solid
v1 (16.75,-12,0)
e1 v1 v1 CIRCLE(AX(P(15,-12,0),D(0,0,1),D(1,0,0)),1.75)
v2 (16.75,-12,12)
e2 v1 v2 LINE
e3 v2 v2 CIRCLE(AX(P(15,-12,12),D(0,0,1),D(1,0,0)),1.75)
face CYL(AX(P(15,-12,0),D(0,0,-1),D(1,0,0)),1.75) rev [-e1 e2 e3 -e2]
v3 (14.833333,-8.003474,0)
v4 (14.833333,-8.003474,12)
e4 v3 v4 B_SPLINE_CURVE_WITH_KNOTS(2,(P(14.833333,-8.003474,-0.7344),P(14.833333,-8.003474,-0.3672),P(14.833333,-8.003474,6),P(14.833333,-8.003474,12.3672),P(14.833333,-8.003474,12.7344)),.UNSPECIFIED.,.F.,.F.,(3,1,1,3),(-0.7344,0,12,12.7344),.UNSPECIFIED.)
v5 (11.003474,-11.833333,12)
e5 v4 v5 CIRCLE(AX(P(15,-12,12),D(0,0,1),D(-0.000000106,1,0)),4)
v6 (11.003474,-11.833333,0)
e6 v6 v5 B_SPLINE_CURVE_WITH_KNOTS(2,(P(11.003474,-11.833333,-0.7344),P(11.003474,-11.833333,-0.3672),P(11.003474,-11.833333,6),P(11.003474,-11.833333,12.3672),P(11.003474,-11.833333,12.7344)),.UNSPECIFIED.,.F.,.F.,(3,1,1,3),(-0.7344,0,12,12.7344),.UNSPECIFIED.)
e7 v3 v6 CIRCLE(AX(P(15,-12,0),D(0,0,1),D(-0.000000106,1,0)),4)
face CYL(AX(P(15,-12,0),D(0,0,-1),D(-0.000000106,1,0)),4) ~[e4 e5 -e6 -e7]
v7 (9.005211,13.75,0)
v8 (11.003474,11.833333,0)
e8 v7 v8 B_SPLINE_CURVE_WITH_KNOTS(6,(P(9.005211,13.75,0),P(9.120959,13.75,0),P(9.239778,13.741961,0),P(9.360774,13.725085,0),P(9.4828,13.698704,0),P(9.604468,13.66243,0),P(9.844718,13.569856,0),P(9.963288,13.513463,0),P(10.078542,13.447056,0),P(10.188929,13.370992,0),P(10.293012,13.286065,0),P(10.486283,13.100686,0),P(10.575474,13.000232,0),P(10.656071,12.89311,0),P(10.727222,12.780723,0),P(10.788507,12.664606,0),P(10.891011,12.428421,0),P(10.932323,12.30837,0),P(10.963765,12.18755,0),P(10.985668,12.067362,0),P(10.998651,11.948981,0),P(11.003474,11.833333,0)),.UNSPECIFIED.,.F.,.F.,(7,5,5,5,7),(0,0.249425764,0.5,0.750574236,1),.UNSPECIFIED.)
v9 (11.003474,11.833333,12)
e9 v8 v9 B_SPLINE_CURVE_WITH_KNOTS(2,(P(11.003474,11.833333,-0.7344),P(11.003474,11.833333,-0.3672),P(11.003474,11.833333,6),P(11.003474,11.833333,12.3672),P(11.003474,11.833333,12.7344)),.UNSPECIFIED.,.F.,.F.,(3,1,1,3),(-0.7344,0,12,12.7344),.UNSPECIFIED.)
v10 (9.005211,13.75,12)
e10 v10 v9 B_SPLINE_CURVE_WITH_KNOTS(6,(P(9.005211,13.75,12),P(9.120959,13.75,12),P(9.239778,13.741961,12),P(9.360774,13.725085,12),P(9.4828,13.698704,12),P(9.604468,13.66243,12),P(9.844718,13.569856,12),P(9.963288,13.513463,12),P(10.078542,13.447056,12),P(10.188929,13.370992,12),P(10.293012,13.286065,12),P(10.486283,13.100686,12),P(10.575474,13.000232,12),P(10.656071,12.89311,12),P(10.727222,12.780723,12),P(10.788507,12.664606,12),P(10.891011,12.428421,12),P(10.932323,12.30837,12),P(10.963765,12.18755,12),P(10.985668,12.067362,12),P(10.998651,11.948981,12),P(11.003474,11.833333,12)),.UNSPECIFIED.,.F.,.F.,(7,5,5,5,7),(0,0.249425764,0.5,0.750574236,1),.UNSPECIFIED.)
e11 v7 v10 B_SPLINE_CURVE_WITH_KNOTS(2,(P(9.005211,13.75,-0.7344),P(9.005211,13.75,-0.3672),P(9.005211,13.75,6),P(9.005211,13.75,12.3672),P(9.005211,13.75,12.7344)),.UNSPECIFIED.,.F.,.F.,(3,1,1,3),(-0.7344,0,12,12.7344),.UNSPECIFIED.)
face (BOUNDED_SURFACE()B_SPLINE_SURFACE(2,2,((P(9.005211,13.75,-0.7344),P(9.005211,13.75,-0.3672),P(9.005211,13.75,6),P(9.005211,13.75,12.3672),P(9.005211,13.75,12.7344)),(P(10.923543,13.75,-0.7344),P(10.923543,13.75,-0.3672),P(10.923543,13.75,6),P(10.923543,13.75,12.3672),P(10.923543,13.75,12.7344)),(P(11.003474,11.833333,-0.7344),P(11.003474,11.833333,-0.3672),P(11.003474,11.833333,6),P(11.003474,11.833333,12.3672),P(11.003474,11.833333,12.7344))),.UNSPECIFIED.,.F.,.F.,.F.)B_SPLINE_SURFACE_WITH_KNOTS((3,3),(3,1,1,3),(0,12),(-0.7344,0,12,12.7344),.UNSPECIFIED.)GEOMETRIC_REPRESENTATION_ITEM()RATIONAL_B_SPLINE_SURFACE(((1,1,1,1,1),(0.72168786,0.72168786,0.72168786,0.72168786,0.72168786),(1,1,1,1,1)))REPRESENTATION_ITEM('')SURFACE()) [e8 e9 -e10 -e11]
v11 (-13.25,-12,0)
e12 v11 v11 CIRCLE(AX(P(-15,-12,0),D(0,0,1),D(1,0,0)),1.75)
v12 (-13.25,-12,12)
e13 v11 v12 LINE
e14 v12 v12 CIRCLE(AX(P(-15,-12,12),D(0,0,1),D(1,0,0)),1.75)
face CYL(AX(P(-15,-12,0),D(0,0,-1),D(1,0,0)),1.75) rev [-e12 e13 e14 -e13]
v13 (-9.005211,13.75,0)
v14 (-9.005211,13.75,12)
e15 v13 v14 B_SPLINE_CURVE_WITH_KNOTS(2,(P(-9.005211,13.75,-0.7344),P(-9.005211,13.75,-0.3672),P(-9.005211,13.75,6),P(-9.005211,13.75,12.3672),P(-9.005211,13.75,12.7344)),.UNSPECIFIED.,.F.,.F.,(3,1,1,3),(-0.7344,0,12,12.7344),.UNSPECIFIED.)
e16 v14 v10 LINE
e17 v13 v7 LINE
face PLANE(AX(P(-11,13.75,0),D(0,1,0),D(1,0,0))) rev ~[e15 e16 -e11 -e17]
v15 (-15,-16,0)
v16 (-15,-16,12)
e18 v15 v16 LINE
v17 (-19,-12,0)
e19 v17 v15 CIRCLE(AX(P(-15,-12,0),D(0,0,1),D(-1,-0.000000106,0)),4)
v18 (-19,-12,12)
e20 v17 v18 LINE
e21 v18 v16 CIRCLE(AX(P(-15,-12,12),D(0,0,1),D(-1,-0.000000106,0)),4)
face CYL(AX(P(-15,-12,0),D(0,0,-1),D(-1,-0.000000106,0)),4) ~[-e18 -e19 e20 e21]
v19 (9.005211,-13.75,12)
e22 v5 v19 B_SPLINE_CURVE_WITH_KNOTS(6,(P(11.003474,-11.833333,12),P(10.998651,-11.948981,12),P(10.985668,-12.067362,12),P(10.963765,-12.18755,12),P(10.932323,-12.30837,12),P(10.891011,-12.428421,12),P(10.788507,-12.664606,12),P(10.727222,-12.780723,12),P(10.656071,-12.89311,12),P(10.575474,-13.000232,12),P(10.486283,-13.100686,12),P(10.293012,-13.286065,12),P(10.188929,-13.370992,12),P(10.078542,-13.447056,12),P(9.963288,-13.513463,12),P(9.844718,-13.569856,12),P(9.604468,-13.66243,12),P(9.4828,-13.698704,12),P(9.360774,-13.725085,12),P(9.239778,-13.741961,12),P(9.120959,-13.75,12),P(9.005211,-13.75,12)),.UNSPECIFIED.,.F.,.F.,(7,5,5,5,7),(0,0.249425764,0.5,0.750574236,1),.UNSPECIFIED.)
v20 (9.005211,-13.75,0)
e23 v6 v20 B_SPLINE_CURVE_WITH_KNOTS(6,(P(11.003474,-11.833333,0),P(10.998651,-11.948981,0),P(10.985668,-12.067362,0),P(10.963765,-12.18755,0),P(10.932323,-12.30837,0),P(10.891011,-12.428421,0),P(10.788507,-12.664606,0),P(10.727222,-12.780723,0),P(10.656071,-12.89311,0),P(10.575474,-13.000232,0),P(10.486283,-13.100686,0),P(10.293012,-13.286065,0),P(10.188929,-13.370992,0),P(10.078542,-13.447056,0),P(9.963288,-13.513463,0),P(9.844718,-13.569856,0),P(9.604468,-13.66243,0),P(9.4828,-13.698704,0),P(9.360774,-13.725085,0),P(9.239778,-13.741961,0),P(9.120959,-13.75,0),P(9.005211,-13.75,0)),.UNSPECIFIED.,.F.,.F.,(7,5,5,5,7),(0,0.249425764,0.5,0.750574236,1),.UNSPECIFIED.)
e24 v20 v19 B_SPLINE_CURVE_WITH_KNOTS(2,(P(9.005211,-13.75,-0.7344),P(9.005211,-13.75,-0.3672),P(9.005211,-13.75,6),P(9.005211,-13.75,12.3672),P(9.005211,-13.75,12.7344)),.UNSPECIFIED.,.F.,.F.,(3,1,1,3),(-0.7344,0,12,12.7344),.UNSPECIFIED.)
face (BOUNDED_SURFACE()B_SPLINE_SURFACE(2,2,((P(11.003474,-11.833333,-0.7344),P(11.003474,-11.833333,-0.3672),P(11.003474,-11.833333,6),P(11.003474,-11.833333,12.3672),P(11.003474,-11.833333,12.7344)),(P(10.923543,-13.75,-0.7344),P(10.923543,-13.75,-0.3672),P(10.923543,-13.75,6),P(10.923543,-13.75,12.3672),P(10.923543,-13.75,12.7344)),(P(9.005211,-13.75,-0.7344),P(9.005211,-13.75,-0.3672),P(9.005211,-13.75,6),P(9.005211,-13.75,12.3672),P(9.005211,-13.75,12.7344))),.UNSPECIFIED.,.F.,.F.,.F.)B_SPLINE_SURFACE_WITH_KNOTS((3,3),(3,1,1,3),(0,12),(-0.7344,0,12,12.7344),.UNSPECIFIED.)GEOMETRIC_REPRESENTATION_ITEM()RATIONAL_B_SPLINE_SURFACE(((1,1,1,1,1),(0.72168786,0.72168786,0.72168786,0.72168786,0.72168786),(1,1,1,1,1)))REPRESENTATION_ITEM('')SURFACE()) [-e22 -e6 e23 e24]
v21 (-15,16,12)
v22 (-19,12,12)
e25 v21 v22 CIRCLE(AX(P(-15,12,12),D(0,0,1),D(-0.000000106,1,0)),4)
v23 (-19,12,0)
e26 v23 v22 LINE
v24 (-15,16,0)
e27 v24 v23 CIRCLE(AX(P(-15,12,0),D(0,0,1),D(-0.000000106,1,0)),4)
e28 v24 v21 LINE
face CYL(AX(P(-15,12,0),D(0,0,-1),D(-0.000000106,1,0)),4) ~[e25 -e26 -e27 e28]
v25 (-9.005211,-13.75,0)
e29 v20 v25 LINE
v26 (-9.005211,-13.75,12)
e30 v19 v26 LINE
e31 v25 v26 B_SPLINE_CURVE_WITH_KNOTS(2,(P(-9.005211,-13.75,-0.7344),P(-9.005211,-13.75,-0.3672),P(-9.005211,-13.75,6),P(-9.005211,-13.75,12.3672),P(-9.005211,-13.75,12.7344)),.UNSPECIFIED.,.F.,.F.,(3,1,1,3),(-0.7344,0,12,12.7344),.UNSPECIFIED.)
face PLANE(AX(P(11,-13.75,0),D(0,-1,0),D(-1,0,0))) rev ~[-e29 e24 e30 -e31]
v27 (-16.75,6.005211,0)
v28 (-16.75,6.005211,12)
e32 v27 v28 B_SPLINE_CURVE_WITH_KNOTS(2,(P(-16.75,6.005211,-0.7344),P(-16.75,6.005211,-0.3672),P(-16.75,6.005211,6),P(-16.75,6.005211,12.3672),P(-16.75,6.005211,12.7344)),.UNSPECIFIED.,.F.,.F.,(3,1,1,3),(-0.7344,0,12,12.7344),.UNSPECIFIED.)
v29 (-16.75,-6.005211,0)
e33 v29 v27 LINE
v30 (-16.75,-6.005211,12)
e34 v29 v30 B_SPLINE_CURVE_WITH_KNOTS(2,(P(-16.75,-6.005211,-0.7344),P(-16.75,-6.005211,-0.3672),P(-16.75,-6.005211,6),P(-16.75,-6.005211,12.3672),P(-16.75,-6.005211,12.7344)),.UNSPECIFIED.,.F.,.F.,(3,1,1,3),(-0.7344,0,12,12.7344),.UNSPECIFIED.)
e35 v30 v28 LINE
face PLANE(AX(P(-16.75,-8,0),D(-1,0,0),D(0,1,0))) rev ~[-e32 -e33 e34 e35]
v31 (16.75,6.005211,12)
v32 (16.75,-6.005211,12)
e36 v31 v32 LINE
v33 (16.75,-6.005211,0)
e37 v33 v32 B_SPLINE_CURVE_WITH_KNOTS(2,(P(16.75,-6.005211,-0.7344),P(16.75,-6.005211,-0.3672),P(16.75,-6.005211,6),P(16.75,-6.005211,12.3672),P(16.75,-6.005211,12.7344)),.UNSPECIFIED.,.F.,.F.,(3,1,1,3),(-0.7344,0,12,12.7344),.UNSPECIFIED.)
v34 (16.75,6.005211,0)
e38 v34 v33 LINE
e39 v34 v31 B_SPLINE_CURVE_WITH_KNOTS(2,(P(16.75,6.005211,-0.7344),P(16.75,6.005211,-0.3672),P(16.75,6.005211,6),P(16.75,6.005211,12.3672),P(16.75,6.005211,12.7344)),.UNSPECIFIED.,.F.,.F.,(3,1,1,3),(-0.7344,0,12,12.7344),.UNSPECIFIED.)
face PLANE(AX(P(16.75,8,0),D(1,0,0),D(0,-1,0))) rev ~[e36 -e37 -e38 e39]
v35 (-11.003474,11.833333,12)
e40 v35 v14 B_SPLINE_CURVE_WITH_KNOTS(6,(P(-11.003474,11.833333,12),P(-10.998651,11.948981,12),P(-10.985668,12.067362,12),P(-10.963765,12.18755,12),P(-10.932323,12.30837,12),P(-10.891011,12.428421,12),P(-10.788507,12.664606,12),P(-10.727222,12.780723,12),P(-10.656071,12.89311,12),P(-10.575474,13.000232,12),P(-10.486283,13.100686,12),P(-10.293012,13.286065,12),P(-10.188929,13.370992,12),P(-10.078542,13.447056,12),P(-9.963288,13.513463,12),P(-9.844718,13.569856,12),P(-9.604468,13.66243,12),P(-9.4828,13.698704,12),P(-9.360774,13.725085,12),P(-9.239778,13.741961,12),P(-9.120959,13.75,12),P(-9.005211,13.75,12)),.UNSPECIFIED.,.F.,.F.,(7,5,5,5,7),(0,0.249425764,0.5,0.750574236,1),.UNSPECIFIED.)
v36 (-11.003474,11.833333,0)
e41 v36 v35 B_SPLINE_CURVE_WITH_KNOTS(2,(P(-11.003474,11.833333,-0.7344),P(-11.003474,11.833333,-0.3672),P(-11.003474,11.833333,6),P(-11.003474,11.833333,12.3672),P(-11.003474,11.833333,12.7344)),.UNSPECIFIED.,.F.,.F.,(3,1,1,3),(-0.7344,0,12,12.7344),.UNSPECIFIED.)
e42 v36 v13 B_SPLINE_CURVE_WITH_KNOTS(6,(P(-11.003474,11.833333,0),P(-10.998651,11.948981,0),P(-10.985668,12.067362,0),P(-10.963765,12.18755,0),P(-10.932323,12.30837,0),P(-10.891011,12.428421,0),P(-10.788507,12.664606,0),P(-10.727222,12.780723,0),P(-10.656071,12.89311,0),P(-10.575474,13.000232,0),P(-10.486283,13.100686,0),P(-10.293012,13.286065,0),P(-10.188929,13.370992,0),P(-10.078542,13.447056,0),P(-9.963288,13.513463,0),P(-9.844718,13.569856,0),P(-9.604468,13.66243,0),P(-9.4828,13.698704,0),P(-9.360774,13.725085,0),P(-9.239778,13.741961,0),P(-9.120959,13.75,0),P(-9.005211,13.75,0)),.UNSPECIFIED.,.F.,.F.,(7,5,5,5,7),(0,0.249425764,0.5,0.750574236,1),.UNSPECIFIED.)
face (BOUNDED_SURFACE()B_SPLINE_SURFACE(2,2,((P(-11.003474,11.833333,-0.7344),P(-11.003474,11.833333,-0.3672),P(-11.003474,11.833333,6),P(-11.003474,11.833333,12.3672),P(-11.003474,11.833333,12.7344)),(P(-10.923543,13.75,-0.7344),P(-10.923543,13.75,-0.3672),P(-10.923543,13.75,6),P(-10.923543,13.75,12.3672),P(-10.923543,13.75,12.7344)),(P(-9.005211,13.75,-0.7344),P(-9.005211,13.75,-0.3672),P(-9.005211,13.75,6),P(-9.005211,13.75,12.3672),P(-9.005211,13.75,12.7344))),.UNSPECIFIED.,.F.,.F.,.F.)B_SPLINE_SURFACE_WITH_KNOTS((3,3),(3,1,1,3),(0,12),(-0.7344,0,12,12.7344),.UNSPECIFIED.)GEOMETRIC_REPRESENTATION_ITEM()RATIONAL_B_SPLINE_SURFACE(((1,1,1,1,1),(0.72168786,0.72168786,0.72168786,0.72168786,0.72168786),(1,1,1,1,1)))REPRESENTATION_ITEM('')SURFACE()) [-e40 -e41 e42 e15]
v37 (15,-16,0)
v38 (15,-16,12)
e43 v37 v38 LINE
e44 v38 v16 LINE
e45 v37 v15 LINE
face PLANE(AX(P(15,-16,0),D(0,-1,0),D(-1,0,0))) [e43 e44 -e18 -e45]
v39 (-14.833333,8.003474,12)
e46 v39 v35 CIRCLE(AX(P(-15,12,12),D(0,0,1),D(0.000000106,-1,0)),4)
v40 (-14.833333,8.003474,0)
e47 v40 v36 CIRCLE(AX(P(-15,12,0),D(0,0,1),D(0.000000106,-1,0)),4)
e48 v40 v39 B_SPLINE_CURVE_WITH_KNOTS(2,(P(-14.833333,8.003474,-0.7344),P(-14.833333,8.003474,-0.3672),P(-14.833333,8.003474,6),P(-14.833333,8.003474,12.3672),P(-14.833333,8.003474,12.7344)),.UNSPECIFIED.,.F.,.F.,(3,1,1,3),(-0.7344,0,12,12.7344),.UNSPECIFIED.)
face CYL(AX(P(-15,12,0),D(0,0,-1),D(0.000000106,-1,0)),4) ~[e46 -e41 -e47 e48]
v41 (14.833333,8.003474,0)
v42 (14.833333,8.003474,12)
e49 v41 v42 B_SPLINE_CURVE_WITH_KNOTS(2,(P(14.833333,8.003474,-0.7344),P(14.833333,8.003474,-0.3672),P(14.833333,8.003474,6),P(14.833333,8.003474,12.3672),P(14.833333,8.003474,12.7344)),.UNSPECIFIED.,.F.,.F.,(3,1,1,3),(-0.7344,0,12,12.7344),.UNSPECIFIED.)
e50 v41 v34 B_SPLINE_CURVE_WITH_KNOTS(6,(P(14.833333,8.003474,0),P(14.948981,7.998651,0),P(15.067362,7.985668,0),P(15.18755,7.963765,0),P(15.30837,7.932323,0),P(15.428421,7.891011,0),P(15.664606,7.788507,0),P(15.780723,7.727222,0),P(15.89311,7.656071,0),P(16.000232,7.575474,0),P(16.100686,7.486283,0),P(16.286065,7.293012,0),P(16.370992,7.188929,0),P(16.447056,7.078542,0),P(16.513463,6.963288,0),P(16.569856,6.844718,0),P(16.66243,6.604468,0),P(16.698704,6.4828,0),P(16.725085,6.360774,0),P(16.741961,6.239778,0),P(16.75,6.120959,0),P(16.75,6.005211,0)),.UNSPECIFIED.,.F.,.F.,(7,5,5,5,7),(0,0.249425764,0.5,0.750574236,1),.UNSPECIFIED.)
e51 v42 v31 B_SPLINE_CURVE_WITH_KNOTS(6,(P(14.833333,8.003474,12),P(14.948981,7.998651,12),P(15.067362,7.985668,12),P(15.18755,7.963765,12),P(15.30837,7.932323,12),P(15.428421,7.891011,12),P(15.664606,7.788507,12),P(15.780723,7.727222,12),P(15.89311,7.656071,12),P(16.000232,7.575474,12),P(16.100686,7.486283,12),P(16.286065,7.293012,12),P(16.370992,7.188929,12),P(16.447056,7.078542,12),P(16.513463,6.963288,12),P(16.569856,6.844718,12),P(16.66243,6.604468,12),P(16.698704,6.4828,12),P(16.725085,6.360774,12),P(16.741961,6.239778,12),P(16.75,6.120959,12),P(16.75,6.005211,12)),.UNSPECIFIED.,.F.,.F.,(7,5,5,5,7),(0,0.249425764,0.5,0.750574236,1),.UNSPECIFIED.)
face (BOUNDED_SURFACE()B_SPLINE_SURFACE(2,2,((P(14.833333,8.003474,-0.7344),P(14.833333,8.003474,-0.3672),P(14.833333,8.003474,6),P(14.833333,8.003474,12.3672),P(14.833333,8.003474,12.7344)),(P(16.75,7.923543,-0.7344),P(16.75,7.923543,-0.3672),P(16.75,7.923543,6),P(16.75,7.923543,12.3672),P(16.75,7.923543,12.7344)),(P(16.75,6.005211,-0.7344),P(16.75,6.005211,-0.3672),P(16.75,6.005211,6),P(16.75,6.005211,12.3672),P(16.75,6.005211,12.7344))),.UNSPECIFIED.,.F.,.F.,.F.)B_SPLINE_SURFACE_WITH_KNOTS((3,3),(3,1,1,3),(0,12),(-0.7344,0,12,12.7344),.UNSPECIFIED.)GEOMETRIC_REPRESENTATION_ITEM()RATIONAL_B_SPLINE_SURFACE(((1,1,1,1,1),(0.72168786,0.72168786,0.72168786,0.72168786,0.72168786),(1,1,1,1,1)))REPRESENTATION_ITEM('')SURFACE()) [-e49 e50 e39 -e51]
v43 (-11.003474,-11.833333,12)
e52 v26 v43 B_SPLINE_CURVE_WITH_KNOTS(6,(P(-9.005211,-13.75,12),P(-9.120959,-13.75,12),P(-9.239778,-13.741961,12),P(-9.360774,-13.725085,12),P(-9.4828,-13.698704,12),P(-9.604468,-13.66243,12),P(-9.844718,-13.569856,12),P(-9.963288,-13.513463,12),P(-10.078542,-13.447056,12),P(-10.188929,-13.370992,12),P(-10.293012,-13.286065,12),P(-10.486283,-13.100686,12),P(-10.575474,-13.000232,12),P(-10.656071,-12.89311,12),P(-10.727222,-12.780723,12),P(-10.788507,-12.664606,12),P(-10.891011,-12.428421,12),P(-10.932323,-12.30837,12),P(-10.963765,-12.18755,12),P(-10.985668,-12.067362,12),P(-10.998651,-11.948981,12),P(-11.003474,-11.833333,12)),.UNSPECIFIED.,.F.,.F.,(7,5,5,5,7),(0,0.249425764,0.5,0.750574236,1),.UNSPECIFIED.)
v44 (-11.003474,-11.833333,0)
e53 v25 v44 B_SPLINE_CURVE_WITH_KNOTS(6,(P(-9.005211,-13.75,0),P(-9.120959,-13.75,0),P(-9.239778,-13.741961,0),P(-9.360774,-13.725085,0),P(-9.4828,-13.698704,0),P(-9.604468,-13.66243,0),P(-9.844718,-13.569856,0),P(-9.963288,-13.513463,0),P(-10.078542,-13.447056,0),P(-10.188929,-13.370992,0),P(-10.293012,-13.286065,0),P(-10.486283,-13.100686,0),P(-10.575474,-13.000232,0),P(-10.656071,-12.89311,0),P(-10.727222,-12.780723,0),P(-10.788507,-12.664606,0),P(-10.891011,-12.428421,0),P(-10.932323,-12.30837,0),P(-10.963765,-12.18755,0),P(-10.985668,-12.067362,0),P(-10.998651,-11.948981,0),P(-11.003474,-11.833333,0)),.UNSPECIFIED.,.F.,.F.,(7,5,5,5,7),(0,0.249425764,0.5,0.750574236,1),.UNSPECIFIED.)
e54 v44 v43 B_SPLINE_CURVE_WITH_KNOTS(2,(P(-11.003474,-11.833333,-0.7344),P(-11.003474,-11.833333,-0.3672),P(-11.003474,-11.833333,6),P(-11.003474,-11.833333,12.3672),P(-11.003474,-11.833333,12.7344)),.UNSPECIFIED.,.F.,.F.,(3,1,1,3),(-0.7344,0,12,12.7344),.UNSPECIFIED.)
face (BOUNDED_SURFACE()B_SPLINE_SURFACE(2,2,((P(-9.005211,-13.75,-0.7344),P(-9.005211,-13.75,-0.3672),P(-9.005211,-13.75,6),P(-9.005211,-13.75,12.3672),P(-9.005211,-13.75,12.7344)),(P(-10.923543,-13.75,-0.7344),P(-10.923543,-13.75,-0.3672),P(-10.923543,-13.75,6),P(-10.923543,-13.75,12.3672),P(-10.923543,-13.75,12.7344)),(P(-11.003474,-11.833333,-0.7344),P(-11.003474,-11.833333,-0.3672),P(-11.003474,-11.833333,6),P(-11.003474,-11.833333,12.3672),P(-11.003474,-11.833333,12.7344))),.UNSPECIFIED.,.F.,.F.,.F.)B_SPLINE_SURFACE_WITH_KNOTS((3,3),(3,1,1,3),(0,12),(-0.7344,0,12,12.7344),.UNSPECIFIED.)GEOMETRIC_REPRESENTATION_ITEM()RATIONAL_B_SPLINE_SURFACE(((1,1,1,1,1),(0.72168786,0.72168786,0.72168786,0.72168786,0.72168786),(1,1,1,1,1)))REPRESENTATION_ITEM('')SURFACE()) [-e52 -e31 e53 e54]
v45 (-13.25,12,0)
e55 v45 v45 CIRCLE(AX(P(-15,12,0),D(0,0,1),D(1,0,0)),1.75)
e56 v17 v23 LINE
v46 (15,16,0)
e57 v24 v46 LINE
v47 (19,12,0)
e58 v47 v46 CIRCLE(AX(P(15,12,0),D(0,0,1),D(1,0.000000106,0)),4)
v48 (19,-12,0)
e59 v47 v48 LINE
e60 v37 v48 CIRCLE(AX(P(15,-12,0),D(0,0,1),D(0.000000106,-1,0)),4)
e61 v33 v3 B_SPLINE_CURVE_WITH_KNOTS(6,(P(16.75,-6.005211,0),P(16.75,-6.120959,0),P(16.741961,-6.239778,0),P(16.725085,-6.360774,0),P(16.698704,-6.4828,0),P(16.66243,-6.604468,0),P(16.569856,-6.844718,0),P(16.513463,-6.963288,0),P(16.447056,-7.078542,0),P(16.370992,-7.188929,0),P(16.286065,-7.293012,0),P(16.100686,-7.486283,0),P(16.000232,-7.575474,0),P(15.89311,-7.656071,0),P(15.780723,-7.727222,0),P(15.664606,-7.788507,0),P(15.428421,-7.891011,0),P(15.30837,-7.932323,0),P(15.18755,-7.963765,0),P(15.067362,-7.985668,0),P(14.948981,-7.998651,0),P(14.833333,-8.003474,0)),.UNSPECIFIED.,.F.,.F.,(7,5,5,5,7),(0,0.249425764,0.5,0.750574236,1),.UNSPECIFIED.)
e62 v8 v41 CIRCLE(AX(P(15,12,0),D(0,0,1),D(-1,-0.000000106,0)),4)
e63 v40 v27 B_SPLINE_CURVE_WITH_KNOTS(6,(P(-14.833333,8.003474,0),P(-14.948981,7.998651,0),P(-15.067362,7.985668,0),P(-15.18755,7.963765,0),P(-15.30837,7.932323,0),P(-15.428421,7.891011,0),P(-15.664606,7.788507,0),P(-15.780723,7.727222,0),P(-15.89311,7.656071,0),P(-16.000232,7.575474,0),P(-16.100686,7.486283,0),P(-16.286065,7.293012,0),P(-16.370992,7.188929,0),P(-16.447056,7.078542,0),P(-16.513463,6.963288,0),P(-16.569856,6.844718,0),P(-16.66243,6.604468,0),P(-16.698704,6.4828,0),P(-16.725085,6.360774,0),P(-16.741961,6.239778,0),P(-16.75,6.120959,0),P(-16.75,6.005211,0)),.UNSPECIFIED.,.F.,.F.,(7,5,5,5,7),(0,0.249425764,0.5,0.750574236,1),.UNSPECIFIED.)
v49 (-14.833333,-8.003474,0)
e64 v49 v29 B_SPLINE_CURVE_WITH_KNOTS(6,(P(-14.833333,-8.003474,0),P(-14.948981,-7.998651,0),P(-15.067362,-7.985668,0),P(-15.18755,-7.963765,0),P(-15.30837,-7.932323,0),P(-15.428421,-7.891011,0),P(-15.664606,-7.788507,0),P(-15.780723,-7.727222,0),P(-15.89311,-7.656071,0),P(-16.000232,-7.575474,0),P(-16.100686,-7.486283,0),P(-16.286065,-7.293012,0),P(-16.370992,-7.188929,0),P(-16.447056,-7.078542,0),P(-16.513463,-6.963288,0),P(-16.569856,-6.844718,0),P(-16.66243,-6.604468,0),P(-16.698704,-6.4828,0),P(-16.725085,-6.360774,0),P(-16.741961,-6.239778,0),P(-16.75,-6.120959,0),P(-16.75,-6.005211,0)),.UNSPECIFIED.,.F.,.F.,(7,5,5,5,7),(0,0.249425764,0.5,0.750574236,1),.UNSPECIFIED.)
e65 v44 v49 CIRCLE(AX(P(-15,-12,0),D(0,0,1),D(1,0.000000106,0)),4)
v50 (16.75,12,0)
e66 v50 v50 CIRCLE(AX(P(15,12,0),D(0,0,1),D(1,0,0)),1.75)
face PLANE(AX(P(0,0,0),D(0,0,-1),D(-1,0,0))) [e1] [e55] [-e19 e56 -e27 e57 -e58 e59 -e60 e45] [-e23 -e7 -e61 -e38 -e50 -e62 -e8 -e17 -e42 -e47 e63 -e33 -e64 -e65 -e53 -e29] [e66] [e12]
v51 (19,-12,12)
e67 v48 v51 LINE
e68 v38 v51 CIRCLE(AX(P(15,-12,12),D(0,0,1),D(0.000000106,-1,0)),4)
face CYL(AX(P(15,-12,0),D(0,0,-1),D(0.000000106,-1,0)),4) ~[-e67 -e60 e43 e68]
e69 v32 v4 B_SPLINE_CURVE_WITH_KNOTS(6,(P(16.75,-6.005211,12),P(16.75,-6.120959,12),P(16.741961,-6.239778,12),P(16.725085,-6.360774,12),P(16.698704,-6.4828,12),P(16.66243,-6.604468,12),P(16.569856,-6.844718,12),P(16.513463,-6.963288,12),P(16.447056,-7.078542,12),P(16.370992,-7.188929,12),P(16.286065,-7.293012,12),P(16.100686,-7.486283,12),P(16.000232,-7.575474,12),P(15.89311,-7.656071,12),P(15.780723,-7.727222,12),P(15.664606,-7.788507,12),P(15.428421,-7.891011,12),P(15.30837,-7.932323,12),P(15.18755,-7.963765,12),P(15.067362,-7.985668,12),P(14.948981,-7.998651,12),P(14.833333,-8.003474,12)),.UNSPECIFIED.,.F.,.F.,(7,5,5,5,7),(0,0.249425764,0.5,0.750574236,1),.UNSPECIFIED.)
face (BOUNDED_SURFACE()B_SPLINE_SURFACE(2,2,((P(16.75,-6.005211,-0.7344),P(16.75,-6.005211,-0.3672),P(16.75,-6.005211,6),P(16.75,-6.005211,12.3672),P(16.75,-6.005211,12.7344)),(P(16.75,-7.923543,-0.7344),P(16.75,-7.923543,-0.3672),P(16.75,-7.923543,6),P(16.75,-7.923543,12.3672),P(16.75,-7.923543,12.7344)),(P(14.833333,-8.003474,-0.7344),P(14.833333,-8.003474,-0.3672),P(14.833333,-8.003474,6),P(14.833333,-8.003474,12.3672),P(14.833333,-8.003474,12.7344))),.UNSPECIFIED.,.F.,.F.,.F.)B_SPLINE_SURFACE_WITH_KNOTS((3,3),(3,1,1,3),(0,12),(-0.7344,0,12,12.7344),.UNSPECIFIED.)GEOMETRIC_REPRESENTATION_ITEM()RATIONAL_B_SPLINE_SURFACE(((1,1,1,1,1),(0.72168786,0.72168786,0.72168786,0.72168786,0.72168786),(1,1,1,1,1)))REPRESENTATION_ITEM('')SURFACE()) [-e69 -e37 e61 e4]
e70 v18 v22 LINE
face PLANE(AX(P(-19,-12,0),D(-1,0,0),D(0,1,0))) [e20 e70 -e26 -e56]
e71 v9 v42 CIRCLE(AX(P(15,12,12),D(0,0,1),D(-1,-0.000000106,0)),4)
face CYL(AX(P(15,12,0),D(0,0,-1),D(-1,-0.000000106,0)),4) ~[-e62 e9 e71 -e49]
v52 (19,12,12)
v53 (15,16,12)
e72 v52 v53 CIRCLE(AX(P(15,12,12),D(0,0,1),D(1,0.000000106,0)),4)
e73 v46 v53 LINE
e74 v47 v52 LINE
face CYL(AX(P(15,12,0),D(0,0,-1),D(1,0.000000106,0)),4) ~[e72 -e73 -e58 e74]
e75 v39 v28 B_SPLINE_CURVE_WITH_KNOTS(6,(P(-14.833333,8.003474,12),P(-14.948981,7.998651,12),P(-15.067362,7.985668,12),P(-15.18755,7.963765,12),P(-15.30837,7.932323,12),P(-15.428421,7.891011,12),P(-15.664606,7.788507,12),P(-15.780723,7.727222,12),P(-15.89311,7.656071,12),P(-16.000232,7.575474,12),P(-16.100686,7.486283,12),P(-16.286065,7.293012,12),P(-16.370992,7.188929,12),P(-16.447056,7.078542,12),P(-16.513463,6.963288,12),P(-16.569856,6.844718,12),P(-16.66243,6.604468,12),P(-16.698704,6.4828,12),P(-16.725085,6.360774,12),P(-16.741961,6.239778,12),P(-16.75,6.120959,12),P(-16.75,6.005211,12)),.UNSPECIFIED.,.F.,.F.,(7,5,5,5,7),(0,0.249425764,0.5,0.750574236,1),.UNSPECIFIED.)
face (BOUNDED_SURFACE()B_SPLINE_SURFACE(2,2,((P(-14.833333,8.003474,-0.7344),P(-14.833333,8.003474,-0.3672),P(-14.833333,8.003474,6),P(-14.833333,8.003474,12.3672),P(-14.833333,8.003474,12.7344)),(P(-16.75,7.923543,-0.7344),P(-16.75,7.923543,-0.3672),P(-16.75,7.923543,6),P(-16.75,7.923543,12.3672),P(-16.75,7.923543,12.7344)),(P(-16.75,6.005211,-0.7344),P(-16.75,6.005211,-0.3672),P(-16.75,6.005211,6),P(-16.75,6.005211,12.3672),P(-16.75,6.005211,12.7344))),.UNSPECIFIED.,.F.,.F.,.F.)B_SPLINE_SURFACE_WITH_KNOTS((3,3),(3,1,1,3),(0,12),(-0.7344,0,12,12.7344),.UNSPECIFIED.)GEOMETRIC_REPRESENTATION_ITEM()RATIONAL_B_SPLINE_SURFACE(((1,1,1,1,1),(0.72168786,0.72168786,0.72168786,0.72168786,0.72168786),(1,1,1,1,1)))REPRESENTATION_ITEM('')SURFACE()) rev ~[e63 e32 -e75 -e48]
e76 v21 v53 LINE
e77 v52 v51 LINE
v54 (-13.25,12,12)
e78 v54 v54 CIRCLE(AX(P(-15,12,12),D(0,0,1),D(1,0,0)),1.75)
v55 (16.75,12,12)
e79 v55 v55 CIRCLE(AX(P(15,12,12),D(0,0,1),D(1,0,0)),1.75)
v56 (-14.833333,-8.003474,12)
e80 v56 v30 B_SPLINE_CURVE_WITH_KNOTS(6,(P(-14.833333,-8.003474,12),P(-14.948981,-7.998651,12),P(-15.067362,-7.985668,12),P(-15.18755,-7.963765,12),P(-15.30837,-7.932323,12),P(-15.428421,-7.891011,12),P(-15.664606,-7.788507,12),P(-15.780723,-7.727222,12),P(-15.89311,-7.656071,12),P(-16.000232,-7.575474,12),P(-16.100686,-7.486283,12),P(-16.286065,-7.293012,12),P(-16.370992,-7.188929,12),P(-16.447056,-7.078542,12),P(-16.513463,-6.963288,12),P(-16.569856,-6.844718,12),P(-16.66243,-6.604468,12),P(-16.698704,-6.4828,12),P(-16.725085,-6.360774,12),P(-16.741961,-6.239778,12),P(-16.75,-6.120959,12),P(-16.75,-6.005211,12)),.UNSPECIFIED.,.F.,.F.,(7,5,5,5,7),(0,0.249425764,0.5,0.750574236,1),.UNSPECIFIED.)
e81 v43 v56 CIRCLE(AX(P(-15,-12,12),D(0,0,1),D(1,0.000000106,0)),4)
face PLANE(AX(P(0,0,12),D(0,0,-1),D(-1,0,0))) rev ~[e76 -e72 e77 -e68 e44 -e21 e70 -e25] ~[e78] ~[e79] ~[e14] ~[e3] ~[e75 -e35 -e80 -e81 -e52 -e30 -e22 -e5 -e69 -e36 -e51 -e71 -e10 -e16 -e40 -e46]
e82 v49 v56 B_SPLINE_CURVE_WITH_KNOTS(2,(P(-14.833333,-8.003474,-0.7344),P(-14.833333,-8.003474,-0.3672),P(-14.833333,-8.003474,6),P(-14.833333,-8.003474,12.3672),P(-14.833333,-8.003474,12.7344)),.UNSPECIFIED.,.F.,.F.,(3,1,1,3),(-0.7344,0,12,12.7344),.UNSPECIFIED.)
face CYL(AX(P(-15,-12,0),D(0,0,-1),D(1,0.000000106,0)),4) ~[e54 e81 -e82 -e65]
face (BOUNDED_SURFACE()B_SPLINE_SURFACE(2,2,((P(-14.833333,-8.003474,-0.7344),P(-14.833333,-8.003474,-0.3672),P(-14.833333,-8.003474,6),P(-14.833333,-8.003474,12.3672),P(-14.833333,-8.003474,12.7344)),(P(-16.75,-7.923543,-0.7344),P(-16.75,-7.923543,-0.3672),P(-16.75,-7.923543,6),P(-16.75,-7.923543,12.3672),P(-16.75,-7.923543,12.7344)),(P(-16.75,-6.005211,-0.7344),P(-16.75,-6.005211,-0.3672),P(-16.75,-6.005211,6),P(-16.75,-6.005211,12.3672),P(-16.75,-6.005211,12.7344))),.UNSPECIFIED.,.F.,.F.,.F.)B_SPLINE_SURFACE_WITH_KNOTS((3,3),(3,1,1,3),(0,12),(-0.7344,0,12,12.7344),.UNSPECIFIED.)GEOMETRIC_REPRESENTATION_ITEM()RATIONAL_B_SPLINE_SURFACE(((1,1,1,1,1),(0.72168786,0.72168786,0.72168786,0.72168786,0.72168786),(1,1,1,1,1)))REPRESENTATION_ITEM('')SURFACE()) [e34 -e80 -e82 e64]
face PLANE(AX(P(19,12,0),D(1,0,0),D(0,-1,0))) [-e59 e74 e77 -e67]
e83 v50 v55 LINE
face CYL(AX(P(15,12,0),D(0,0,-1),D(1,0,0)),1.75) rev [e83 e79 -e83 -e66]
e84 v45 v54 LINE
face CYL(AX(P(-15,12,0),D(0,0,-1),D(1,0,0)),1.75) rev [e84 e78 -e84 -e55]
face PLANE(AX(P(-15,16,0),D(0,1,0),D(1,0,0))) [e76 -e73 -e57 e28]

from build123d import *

# Parameters (mm, degrees)
SKETCH_R  = 1.75
PAD_DEPTH = 12
FILLET_R  = 2


with BuildPart() as part:
    # Sketch → Pad (new body)
    with BuildSketch(Plane.XY):
        with BuildLine():
            Line((-15, 16), (15, 16))
            ThreePointArc((19, 12), (17.828427, 14.828427), (15, 16))
            Line((19, 12), (19, -12))
            ThreePointArc((15, -16), (17.828427, -14.828427), (19, -12))
            Line((15, -16), (-15, -16))
            ThreePointArc((-19, -12), (-17.828427, -14.828427), (-15, -16))
            Line((-19, -12), (-19, 12))
            ThreePointArc((-15, 16), (-17.828427, 14.828427), (-19, 12))
        make_face()
        with Locations((-15, 12)):
            Circle(SKETCH_R, mode=Mode.SUBTRACT)
        with Locations((15, 12)):
            Circle(SKETCH_R, mode=Mode.SUBTRACT)
        with Locations((15, -12)):
            Circle(SKETCH_R, mode=Mode.SUBTRACT)
        with Locations((-15, -12)):
            Circle(SKETCH_R, mode=Mode.SUBTRACT)
        with BuildLine():
            Line((-16.75, 8), (-15, 8))
            ThreePointArc((-15, 8), (-12.171573, 9.171573), (-11, 12))
            Line((-11, 12), (-11, 13.75))
            Line((-11, 13.75), (11, 13.75))
            Line((11, 13.75), (11, 12))
            ThreePointArc((11, 12), (12.171573, 9.171573), (15, 8))
            Line((15, 8), (16.75, 8))
            Line((16.75, 8), (16.75, -8))
            Line((15, -8), (16.75, -8))
            ThreePointArc((15, -8), (12.171573, -9.171573), (11, -12))
            Line((11, -13.75), (11, -12))
            Line((11, -13.75), (-11, -13.75))
            Line((-11, -12), (-11, -13.75))
            ThreePointArc((-11, -12), (-12.171573, -9.171573), (-15, -8))
            Line((-16.75, -8), (-15, -8))
            Line((-16.75, -8), (-16.75, 8))
        make_face(mode=Mode.SUBTRACT)
    extrude(amount=PAD_DEPTH)

    # Fillet
    fillet_edges = [part.edges().sort_by_distance(p)[0] for p in [
        (-11, 13.75, 6),
        (-16.75, 8, 6),
        (11, 13.75, 6),
        (16.75, 8, 6),
        (16.75, -8, 6),
        (11, -13.75, 6),
        (-11, -13.75, 6),
        (-16.75, -8, 6),
    ]]
    fillet(fillet_edges, radius=FILLET_R)


solid = part.part
